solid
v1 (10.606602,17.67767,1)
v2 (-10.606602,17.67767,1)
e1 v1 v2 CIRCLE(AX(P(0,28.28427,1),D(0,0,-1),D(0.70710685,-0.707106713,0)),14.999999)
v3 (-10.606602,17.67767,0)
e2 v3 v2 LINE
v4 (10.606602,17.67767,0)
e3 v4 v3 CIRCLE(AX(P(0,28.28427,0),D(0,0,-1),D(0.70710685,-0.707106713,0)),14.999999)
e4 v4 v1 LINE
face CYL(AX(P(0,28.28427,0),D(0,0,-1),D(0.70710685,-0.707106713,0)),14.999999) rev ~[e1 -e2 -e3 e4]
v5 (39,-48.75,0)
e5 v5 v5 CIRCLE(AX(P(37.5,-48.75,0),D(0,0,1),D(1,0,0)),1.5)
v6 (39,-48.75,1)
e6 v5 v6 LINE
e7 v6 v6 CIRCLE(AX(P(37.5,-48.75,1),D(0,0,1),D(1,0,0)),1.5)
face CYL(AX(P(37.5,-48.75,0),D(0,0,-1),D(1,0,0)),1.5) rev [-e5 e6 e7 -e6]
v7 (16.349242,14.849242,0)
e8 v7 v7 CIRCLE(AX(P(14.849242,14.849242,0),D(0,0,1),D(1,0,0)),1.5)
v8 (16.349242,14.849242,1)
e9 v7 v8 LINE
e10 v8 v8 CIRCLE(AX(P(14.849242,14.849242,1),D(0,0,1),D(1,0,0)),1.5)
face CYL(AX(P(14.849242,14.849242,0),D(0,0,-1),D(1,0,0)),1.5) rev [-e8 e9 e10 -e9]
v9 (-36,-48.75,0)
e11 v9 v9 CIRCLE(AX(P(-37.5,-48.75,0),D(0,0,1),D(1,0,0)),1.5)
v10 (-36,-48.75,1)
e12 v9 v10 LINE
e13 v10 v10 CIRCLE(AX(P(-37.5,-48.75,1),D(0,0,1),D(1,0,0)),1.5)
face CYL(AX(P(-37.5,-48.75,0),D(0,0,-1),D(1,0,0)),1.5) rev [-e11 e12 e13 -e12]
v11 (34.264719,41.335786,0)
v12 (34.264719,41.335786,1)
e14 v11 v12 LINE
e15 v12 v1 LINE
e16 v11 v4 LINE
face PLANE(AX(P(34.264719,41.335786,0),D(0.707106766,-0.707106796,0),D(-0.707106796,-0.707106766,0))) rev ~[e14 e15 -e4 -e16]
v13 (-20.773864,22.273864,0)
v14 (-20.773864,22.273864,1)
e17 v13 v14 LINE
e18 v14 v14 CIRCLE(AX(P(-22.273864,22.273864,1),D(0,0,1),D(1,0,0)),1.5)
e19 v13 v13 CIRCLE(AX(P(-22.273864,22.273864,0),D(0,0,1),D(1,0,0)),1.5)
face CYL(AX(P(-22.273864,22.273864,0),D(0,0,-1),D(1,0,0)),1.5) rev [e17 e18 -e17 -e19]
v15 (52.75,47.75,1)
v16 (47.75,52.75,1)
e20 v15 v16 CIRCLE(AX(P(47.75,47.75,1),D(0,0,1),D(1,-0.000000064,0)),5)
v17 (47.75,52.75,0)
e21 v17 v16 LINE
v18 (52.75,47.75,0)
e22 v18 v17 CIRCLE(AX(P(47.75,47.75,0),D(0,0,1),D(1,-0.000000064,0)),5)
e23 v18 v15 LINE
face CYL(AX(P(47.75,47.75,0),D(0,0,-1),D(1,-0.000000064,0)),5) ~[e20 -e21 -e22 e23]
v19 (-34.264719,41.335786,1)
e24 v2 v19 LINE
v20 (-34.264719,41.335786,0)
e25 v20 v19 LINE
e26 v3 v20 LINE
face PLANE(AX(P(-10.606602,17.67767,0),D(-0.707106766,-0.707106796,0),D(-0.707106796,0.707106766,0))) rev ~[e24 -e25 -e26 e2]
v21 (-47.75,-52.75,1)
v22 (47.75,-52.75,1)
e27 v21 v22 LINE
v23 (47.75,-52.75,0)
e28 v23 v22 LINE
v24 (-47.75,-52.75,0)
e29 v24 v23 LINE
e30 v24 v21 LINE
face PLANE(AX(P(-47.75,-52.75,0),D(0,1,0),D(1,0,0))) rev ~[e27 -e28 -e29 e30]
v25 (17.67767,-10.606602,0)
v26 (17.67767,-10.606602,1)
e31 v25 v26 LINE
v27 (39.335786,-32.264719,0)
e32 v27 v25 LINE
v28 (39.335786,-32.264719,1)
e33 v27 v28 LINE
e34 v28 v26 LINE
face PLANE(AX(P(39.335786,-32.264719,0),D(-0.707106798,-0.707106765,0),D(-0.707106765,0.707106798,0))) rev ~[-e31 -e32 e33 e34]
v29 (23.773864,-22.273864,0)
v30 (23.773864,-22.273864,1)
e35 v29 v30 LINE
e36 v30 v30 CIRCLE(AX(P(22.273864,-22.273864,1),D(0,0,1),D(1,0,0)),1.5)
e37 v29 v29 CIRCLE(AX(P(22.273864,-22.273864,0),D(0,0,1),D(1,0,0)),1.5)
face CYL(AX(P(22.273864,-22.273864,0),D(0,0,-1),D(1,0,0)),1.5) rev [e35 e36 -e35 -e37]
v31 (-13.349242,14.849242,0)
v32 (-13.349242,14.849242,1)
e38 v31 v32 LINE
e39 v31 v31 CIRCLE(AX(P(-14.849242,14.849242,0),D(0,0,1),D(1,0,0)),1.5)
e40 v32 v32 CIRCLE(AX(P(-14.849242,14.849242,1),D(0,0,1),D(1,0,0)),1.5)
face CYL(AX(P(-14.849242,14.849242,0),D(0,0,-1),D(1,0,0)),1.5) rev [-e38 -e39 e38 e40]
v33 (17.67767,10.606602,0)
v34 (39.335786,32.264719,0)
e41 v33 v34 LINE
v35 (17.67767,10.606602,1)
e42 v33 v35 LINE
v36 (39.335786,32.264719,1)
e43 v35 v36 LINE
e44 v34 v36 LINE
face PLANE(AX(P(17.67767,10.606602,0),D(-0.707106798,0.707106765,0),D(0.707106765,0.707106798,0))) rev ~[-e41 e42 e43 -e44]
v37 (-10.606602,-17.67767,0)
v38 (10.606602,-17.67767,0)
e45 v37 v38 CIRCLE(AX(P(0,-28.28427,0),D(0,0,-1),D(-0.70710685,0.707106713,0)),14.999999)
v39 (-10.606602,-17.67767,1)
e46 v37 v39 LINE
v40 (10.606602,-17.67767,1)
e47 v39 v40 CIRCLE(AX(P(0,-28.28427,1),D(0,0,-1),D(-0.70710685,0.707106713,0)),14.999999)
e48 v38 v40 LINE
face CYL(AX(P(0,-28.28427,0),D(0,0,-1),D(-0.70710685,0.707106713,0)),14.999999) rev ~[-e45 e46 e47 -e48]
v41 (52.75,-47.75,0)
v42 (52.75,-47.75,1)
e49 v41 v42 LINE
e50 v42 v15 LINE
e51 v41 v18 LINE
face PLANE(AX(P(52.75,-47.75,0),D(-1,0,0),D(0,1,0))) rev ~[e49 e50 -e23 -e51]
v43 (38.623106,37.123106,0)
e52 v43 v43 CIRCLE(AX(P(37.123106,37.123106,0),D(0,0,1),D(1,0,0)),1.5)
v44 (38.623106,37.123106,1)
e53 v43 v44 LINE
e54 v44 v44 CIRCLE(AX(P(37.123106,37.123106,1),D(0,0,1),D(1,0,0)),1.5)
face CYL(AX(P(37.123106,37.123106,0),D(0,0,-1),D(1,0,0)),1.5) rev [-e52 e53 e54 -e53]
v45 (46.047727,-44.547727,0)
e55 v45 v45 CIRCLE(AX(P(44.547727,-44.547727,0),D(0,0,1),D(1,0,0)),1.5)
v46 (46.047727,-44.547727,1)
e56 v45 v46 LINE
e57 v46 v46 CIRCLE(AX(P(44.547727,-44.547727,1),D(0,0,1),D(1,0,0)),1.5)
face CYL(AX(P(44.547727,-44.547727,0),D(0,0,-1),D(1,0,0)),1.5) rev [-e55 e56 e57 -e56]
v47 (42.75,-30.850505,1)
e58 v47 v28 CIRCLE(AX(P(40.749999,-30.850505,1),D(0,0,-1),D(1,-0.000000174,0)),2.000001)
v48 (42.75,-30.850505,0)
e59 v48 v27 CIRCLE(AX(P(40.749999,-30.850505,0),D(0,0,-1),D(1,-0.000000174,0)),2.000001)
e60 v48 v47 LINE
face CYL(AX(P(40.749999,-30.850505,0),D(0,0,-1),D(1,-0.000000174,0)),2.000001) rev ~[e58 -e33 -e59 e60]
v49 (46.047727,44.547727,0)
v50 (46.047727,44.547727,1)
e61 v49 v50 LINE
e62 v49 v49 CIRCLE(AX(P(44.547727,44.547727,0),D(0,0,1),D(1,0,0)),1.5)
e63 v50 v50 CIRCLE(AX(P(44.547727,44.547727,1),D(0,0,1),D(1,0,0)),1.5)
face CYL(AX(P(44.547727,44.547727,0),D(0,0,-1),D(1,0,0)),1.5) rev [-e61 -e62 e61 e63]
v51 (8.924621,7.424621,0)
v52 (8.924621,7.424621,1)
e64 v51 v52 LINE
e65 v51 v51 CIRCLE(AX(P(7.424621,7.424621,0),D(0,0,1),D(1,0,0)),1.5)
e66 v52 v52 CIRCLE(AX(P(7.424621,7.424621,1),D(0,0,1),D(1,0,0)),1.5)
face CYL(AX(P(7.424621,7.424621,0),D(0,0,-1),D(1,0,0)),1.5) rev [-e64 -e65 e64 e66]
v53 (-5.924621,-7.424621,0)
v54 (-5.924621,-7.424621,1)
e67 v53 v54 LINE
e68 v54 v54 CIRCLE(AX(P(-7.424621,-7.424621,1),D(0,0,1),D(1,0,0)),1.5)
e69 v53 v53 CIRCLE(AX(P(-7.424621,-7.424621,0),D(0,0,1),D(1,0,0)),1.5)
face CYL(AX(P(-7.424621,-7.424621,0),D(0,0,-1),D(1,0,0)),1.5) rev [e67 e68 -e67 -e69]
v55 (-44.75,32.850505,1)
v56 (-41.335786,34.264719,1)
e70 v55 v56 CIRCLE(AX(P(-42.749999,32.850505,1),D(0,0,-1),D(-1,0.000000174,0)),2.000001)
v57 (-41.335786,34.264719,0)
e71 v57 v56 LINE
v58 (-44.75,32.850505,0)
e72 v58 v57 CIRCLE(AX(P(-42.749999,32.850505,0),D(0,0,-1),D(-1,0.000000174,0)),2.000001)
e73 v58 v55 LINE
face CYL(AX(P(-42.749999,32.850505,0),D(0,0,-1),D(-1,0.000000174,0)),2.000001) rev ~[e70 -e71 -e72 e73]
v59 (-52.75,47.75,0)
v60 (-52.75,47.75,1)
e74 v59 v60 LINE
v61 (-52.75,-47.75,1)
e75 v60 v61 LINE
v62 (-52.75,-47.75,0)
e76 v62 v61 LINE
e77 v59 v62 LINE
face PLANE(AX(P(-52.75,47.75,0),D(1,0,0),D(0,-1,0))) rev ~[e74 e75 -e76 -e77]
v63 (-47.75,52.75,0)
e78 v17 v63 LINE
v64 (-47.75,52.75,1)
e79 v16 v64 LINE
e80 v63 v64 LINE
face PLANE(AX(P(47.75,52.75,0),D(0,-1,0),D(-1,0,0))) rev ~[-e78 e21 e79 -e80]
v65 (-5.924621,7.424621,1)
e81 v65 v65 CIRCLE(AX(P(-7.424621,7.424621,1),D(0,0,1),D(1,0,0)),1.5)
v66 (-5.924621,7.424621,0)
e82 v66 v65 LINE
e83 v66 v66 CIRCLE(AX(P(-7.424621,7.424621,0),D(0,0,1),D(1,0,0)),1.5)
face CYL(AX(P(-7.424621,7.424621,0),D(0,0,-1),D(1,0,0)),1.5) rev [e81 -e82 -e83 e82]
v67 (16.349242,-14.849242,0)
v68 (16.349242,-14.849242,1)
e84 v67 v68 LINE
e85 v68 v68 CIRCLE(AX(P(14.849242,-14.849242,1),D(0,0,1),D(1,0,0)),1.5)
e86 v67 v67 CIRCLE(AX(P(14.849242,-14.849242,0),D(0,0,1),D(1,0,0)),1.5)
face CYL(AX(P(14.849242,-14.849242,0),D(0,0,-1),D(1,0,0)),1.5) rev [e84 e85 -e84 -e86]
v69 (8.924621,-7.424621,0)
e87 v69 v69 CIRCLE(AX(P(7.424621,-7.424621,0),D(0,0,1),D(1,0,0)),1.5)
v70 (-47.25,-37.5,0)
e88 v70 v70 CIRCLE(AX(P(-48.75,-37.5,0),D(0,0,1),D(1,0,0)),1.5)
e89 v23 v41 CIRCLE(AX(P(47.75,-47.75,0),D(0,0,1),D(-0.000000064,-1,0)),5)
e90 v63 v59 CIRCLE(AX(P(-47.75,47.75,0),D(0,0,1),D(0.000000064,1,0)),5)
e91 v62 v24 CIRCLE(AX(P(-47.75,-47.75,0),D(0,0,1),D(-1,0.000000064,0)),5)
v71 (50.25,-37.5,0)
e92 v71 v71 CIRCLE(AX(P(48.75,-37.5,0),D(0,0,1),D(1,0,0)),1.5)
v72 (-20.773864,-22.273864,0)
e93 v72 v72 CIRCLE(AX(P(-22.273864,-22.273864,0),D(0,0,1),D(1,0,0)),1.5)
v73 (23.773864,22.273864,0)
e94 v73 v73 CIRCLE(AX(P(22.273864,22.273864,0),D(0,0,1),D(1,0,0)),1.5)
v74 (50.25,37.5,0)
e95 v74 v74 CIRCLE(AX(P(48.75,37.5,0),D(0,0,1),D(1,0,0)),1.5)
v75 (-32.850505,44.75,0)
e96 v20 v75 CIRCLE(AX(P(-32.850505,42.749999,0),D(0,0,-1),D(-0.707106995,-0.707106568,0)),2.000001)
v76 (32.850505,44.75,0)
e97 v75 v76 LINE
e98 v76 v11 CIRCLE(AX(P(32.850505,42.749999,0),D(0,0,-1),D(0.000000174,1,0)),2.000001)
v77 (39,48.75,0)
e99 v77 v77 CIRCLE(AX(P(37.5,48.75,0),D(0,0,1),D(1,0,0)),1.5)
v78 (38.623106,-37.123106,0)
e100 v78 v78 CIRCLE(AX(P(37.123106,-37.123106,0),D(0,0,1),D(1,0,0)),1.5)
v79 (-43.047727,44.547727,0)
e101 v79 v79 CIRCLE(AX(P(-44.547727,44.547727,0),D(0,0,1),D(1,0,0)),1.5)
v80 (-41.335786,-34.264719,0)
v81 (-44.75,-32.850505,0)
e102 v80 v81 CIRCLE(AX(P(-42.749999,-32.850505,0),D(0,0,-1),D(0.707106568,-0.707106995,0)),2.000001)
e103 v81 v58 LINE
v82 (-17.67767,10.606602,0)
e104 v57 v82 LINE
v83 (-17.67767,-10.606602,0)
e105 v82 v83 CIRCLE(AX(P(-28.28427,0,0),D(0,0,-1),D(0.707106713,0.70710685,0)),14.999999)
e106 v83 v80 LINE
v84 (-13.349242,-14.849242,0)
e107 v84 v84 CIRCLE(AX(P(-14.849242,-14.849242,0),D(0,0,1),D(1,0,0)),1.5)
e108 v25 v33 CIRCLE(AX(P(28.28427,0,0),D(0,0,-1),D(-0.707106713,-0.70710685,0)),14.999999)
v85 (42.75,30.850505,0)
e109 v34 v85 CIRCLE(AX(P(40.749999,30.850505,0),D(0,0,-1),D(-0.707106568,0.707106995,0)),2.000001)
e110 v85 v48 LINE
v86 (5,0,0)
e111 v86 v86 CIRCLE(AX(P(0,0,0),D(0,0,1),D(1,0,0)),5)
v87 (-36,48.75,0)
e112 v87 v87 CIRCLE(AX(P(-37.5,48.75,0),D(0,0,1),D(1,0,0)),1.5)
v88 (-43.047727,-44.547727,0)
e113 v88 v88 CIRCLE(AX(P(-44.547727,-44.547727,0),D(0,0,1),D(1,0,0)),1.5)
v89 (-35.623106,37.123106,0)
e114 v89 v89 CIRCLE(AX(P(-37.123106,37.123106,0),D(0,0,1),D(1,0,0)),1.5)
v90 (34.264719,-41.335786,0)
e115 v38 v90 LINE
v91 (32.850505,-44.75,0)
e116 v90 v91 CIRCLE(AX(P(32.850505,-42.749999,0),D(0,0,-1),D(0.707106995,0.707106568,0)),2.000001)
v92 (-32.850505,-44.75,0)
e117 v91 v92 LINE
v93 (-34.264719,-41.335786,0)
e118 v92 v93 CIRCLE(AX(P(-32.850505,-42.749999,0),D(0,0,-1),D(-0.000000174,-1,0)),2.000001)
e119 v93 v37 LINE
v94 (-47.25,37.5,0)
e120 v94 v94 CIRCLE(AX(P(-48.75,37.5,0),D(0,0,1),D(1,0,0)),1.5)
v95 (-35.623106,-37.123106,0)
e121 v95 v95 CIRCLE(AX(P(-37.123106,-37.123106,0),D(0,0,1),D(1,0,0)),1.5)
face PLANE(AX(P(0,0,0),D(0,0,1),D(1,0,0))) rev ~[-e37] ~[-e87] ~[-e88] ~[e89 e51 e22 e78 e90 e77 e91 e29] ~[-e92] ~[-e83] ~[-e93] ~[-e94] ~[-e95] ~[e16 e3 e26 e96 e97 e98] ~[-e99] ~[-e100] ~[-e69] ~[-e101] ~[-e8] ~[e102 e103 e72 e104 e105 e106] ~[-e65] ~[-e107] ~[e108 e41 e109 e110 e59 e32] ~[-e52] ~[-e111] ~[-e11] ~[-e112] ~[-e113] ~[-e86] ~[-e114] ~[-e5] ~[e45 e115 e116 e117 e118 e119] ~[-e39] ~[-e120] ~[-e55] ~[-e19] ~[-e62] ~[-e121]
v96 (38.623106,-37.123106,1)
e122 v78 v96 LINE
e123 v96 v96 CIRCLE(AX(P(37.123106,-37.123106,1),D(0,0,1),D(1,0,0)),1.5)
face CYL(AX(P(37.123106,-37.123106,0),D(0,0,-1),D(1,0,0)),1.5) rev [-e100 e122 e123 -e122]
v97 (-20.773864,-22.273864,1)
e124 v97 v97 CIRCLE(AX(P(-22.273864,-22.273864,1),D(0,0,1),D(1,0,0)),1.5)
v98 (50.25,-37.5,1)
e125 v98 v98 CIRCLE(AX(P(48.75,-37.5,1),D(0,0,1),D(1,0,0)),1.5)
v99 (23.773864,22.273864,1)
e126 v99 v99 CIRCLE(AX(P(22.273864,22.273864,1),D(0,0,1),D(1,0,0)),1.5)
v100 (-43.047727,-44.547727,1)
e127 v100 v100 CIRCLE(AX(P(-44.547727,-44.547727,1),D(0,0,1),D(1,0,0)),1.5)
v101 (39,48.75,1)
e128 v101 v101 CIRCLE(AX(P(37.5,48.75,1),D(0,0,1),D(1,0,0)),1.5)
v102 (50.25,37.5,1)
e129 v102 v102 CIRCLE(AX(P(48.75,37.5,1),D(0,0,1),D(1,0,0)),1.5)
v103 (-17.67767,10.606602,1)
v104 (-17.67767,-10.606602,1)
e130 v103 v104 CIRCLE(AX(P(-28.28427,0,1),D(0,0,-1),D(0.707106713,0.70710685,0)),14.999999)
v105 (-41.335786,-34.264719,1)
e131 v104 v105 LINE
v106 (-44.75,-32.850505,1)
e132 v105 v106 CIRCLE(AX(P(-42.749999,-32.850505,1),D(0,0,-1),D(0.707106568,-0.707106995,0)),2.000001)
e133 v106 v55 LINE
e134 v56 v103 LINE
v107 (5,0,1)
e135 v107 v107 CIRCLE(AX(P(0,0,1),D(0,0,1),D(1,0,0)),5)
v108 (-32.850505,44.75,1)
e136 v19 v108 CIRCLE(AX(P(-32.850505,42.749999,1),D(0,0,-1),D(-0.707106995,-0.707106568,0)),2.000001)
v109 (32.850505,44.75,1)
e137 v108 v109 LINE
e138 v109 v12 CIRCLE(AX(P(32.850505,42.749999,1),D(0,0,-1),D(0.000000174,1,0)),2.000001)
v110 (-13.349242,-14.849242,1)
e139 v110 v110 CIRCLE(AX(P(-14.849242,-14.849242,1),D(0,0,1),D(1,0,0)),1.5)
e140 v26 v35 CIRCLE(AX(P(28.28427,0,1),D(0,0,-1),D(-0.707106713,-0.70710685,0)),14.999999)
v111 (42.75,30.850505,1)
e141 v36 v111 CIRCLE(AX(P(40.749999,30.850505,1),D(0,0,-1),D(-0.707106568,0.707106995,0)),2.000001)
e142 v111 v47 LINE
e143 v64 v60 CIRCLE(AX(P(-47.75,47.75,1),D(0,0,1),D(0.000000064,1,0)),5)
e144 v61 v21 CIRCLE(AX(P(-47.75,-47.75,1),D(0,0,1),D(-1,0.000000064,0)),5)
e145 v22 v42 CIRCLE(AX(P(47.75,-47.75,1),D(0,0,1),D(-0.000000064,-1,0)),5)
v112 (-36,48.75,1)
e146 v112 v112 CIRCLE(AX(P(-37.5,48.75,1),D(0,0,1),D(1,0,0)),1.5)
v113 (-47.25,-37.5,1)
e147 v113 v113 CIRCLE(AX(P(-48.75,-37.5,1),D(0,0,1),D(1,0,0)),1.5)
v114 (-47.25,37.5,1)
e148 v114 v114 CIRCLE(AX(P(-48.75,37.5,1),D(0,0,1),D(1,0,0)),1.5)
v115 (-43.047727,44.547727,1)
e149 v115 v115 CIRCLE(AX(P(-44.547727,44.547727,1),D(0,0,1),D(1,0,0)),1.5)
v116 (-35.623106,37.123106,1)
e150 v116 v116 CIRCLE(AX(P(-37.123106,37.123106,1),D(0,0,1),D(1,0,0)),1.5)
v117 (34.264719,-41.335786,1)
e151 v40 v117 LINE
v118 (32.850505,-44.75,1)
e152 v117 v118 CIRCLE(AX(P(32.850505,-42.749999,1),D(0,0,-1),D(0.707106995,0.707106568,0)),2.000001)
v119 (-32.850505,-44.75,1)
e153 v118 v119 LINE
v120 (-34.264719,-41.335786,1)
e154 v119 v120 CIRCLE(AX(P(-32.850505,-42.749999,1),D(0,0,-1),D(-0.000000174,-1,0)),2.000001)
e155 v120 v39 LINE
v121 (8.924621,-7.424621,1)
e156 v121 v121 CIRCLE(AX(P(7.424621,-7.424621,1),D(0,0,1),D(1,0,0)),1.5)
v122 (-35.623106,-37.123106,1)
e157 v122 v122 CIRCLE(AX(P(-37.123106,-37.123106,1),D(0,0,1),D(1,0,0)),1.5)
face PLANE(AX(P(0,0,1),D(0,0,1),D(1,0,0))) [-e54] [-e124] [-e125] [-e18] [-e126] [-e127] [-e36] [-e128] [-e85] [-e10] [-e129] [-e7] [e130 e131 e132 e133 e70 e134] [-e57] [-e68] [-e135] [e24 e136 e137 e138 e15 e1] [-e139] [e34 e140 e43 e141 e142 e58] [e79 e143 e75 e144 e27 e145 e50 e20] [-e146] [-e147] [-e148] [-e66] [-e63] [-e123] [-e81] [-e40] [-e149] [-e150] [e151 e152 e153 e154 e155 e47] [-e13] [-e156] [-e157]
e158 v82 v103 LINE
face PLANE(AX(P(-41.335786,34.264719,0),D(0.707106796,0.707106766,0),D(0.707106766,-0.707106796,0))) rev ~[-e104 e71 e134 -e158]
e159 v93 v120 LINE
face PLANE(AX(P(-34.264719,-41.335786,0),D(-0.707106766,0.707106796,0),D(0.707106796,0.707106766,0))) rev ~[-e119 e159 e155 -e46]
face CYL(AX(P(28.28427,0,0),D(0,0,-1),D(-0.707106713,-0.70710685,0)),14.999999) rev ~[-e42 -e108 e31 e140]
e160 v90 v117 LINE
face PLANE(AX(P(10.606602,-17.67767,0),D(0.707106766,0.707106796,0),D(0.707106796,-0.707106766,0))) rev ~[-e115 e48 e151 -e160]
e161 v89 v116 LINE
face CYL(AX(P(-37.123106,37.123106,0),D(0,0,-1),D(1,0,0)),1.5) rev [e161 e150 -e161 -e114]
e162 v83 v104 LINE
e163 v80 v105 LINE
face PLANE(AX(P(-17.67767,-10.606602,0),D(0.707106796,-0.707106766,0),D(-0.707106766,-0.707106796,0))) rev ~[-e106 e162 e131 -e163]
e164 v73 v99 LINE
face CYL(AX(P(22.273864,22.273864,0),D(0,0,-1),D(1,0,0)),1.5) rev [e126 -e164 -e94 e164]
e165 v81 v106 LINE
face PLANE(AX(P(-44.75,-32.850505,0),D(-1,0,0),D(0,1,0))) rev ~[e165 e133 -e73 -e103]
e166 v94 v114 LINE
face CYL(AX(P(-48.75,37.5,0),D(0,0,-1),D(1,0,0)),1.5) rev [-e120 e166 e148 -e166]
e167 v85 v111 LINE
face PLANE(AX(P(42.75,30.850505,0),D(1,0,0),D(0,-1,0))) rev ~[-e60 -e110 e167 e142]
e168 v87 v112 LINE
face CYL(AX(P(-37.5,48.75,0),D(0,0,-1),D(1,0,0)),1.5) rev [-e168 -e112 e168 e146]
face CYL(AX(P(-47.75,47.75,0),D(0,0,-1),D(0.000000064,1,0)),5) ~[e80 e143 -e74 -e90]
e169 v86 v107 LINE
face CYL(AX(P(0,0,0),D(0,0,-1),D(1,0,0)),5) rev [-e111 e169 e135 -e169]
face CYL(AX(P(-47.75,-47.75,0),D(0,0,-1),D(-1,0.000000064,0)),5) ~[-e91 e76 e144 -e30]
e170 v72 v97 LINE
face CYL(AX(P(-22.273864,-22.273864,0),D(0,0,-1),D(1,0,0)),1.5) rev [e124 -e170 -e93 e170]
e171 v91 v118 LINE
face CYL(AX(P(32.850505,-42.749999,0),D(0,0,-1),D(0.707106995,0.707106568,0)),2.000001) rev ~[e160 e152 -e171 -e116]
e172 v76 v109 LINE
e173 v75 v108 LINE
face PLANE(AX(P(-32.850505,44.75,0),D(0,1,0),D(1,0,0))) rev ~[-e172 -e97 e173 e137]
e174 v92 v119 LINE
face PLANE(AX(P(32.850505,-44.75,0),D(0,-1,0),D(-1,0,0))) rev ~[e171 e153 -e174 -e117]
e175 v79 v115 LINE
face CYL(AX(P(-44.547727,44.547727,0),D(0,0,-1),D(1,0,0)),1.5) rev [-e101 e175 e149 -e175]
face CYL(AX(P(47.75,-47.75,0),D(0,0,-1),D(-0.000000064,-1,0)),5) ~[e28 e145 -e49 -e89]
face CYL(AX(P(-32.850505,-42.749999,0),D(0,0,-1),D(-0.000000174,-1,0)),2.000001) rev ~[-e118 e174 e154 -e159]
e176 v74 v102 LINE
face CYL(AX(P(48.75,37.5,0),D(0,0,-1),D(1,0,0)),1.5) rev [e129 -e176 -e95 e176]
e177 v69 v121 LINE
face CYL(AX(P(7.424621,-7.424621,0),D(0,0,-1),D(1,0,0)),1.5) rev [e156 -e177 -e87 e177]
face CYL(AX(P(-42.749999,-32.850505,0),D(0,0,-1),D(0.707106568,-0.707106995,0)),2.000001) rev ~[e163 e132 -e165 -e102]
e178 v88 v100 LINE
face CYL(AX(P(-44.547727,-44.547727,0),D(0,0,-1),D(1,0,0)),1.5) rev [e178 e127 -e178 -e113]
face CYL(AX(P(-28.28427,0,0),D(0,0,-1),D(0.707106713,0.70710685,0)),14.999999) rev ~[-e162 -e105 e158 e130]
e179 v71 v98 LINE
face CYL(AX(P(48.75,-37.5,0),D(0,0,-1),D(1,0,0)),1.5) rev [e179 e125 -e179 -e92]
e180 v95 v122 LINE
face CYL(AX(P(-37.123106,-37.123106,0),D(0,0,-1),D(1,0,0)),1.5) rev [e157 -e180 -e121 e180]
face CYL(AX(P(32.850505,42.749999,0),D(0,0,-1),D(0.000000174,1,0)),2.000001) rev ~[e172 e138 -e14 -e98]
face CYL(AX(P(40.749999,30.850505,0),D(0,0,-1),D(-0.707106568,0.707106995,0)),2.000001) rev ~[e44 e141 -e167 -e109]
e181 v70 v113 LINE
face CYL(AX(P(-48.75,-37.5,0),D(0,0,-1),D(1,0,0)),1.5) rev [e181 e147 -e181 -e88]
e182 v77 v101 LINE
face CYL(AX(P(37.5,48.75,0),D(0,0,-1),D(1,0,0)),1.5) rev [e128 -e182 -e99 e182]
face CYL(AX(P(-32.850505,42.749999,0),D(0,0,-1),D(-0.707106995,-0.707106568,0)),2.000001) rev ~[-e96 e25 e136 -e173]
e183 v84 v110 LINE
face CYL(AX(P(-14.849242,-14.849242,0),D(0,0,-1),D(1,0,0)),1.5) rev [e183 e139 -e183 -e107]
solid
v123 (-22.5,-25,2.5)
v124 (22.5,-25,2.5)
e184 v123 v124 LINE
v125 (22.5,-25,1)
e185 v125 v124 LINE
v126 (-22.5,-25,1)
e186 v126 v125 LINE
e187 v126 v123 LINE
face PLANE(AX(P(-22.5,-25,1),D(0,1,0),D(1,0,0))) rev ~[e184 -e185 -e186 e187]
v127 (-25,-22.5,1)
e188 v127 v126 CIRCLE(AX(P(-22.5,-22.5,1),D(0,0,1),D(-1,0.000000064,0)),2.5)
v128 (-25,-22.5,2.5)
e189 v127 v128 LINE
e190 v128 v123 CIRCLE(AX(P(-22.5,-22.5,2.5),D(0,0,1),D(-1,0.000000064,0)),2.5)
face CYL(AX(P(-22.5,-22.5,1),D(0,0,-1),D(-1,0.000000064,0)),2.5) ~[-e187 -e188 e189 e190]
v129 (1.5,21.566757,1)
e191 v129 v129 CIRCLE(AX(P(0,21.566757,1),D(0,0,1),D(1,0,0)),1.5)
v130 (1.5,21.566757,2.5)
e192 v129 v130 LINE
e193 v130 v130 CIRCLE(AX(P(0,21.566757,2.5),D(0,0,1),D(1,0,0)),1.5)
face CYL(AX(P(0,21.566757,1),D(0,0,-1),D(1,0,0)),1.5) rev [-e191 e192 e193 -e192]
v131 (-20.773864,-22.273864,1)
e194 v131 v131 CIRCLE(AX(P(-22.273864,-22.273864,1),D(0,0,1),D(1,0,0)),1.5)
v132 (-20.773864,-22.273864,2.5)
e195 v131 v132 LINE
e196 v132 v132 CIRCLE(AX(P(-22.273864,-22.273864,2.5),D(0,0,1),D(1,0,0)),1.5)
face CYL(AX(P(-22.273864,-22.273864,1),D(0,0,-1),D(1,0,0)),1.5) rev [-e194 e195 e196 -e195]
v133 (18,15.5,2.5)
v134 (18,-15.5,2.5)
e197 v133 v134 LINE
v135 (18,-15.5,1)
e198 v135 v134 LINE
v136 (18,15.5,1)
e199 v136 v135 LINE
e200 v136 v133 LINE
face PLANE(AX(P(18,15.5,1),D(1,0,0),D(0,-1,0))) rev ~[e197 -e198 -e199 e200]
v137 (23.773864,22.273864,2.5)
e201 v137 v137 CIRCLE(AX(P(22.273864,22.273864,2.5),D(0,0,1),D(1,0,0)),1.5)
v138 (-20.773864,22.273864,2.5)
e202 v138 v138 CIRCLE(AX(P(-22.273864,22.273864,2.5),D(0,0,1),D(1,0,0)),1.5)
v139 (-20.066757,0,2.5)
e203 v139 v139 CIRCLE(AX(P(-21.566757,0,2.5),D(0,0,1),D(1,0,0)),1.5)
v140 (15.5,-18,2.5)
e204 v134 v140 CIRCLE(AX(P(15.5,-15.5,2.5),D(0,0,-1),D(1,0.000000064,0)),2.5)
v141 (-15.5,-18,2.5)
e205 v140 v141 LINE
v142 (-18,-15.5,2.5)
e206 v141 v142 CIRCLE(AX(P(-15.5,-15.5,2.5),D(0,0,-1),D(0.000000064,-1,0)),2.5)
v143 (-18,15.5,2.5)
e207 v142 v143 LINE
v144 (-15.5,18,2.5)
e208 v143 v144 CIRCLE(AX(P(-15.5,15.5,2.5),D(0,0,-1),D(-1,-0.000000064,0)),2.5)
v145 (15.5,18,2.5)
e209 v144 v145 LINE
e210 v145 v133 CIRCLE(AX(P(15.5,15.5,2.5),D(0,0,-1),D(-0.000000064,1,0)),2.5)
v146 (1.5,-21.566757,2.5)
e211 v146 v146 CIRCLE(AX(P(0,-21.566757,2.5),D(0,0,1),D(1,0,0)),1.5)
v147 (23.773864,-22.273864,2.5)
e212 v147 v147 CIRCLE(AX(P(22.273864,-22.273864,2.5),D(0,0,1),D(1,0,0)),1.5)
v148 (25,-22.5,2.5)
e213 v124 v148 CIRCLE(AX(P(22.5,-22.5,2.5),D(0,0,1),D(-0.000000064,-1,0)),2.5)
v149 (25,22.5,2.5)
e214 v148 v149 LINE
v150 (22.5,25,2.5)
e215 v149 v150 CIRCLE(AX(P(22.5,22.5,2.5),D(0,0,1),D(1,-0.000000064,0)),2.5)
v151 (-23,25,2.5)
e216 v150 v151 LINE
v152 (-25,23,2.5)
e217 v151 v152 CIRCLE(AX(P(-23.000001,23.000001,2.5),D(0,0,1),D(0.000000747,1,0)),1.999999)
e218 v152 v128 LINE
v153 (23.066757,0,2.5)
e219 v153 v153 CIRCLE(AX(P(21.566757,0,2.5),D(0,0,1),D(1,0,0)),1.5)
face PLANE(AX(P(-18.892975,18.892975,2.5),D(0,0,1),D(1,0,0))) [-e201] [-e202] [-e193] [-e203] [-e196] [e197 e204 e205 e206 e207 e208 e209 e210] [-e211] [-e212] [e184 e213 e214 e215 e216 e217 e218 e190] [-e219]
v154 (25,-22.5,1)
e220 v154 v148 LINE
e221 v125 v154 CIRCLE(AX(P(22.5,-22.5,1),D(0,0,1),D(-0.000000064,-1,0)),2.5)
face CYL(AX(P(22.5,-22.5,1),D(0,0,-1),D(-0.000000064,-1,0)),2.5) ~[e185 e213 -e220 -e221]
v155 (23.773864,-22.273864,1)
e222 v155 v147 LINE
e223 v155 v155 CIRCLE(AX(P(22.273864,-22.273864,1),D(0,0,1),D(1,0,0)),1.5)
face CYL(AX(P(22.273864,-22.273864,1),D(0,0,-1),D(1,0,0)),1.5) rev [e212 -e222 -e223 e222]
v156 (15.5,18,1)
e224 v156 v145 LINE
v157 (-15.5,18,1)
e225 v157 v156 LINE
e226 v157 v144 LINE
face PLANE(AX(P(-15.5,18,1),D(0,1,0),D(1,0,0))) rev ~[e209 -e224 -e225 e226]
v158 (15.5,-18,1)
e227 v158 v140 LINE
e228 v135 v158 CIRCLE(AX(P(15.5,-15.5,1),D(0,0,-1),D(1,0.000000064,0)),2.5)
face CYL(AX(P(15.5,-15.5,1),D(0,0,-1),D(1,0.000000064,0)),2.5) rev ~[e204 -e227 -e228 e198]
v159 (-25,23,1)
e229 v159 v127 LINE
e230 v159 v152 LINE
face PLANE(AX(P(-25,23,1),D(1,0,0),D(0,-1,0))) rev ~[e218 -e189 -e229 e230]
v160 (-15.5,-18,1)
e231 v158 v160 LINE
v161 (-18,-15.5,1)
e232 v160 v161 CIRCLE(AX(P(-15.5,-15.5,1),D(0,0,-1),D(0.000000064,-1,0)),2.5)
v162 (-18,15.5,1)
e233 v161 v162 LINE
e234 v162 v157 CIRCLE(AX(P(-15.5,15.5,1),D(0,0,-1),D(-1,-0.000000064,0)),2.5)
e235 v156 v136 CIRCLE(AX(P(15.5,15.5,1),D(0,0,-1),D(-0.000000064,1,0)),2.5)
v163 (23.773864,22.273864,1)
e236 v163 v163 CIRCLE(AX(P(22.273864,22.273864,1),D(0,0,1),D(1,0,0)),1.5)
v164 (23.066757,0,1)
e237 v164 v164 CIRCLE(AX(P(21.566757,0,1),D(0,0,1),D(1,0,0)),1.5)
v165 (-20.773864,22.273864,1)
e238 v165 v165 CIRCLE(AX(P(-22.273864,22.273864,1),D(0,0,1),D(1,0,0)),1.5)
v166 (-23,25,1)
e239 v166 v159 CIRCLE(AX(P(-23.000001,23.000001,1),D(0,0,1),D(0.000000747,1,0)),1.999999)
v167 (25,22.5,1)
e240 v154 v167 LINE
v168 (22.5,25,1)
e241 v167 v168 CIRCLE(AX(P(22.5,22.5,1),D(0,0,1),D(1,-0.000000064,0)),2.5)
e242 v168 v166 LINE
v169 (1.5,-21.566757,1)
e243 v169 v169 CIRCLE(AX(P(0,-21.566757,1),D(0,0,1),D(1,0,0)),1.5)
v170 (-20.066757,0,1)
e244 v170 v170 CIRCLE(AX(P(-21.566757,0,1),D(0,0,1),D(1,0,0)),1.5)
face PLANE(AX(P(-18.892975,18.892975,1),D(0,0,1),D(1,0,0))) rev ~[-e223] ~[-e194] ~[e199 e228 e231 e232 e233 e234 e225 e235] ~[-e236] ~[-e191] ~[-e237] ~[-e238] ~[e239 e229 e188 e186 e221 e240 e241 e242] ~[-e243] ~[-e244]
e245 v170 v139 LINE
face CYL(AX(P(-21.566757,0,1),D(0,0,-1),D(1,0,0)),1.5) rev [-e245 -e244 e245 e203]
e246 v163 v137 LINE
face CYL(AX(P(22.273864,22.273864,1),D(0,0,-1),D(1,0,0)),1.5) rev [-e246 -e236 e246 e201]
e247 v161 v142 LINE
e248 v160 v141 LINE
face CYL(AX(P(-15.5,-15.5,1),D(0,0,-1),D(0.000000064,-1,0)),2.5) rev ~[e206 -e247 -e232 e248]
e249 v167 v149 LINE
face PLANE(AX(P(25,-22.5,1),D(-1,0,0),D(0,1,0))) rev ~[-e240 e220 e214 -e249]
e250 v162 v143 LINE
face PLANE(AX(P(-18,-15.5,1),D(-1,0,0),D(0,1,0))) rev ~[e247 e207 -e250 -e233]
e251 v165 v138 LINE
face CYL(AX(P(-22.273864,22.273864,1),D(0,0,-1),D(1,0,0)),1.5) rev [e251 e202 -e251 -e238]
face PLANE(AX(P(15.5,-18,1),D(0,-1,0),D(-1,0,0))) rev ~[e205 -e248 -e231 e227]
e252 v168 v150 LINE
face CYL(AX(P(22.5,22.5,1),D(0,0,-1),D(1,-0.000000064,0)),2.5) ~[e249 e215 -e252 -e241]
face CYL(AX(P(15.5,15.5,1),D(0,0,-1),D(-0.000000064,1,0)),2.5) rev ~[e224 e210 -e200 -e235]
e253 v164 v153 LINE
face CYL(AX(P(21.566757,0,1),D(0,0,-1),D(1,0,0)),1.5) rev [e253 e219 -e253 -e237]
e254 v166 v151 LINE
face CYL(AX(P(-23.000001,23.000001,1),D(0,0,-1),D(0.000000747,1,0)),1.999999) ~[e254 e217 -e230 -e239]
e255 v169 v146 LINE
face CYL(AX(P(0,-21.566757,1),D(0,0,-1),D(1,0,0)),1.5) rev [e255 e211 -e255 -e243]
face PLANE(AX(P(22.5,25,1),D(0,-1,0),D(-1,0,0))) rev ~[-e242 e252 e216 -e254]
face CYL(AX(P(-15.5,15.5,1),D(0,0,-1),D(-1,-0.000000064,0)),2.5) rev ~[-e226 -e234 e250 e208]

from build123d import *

# Parameters (mm, degrees)
F0_R     = 1.5
F0_R_2   = 5
F1_DEPTH = 1
F2_R     = 1.5
F3_DEPTH = 1.5


with BuildPart() as f1:
    # F0 (on Top) → F1 (new body)
    with BuildSketch(Plane.XY):
        with BuildLine():
            Line((47.75, 52.75), (-47.75, 52.75))
            ThreePointArc((-47.75, 52.75), (-51.285534, 51.285534), (-52.75, 47.75))
            Line((-52.75, 47.75), (-52.75, -47.75))
            ThreePointArc((-52.75, -47.75), (-51.285534, -51.285534), (-47.75, -52.75))
            Line((-47.75, -52.75), (47.75, -52.75))
            ThreePointArc((47.75, -52.75), (51.285534, -51.285534), (52.75, -47.75))
            Line((52.75, -47.75), (52.75, 47.75))
            ThreePointArc((52.75, 47.75), (51.285534, 51.285534), (47.75, 52.75))
        make_face()
        with Locations((-44.547727, -44.547727)):
            Circle(F0_R, mode=Mode.SUBTRACT)
        with Locations((-37.5, -48.75)):
            Circle(F0_R, mode=Mode.SUBTRACT)
        with Locations((-48.75, -37.5)):
            Circle(F0_R, mode=Mode.SUBTRACT)
        with Locations((-37.123106, -37.123106)):
            Circle(F0_R, mode=Mode.SUBTRACT)
        with Locations((-22.273864, -22.273864)):
            Circle(F0_R, mode=Mode.SUBTRACT)
        with Locations((-14.849242, -14.849242)):
            Circle(F0_R, mode=Mode.SUBTRACT)
        with Locations((-7.424621, -7.424621)):
            Circle(F0_R, mode=Mode.SUBTRACT)
        with BuildLine():
            Line((32.850505, -44.75), (-32.850505, -44.75))
            ThreePointArc((-32.850505, -44.75), (-34.698264, -43.515367), (-34.264719, -41.335786))
            Line((-34.264719, -41.335786), (-10.606602, -17.67767))
            ThreePointArc((-10.606602, -17.67767), (0, -13.284271), (10.606602, -17.67767))
            Line((10.606602, -17.67767), (34.264719, -41.335786))
            ThreePointArc((34.264719, -41.335786), (34.698264, -43.515367), (32.850505, -44.75))
        make_face(mode=Mode.SUBTRACT)
        with Locations((37.5, -48.75)):
            Circle(F0_R, mode=Mode.SUBTRACT)
        with Locations((44.547727, -44.547727)):
            Circle(F0_R, mode=Mode.SUBTRACT)
        with Locations((37.123106, -37.123106)):
            Circle(F0_R, mode=Mode.SUBTRACT)
        with Locations((48.75, -37.5)):
            Circle(F0_R, mode=Mode.SUBTRACT)
        with Locations((22.273864, -22.273864)):
            Circle(F0_R, mode=Mode.SUBTRACT)
        with Locations((14.849242, -14.849242)):
            Circle(F0_R, mode=Mode.SUBTRACT)
        with Locations((7.424621, -7.424621)):
            Circle(F0_R, mode=Mode.SUBTRACT)
        with BuildLine():
            Line((-44.75, -32.850505), (-44.75, 32.850505))
            ThreePointArc((-44.75, 32.850505), (-43.515367, 34.698264), (-41.335786, 34.264719))
            Line((-41.335786, 34.264719), (-17.67767, 10.606602))
            ThreePointArc((-17.67767, 10.606602), (-13.284271, 0), (-17.67767, -10.606602))
            Line((-17.67767, -10.606602), (-41.335786, -34.264719))
            ThreePointArc((-41.335786, -34.264719), (-43.515367, -34.698264), (-44.75, -32.850505))
        make_face(mode=Mode.SUBTRACT)
        with Locations((-7.424621, 7.424621)):
            Circle(F0_R, mode=Mode.SUBTRACT)
        with Locations((-14.849242, 14.849242)):
            Circle(F0_R, mode=Mode.SUBTRACT)
        with Locations((-22.273864, 22.273864)):
            Circle(F0_R, mode=Mode.SUBTRACT)
        with Locations((-48.75, 37.5)):
            Circle(F0_R, mode=Mode.SUBTRACT)
        with Locations((-37.123106, 37.123106)):
            Circle(F0_R, mode=Mode.SUBTRACT)
        with Locations((-44.547727, 44.547727)):
            Circle(F0_R, mode=Mode.SUBTRACT)
        with Locations((-37.5, 48.75)):
            Circle(F0_R, mode=Mode.SUBTRACT)
        with BuildLine():
            ThreePointArc((-34.264719, 41.335786), (-34.698264, 43.515367), (-32.850505, 44.75))
            Line((-32.850505, 44.75), (32.850505, 44.75))
            ThreePointArc((32.850505, 44.75), (34.698264, 43.515367), (34.264719, 41.335786))
            Line((34.264719, 41.335786), (10.606602, 17.67767))
            ThreePointArc((10.606602, 17.67767), (0, 13.284271), (-10.606602, 17.67767))
            Line((-10.606602, 17.67767), (-34.264719, 41.335786))
        make_face(mode=Mode.SUBTRACT)
        Circle(F0_R_2, mode=Mode.SUBTRACT)
        with Locations((7.424621, 7.424621)):
            Circle(F0_R, mode=Mode.SUBTRACT)
        with Locations((14.849242, 14.849242)):
            Circle(F0_R, mode=Mode.SUBTRACT)
        with Locations((22.273864, 22.273864)):
            Circle(F0_R, mode=Mode.SUBTRACT)
        with BuildLine():
            ThreePointArc((39.335786, 32.264719), (41.515367, 32.698264), (42.75, 30.850505))
            Line((42.75, 30.850505), (42.75, -30.850505))
            ThreePointArc((42.75, -30.850505), (41.515367, -32.698264), (39.335786, -32.264719))
            Line((39.335786, -32.264719), (17.67767, -10.606602))
            ThreePointArc((17.67767, -10.606602), (13.284271, 0), (17.67767, 10.606602))
            Line((17.67767, 10.606602), (39.335786, 32.264719))
        make_face(mode=Mode.SUBTRACT)
        with Locations((37.123106, 37.123106)):
            Circle(F0_R, mode=Mode.SUBTRACT)
        with Locations((48.75, 37.5)):
            Circle(F0_R, mode=Mode.SUBTRACT)
        with Locations((37.5, 48.75)):
            Circle(F0_R, mode=Mode.SUBTRACT)
        with Locations((44.547727, 44.547727)):
            Circle(F0_R, mode=Mode.SUBTRACT)
    extrude(amount=F1_DEPTH)


with BuildPart() as f3:
    # F2 (on face) → F3 (new body)
    with BuildSketch(Plane.XY.offset(1)):
        with BuildLine():
            Line((-17.928932, 25), (-23, 25))
            ThreePointArc((-23, 25), (-24.414214, 24.414214), (-25, 23))
            Line((-25, 23), (-25, 17.928932))
            Line((-25, 17.928932), (-18, 10.928932))
            Line((-18, 10.928932), (-18, 15.5))
            ThreePointArc((-18, 15.5), (-17.267767, 17.267767), (-15.5, 18))
            Line((-15.5, 18), (-10.928932, 18))
            Line((-10.928932, 18), (-17.928932, 25))
        make_face()
        with Locations((-22.273864, 22.273864)):
            Circle(F2_R, mode=Mode.SUBTRACT)
        Polygon((17.928932, 25), (-17.928932, 25), (-10.928932, 18), (10.928932, 18), align=None)
        with Locations((0, 21.566757)):
            Circle(F2_R, mode=Mode.SUBTRACT)
        with BuildLine():
            Line((22.5, 25), (17.928932, 25))
            Line((17.928932, 25), (10.928932, 18))
            Line((10.928932, 18), (15.5, 18))
            ThreePointArc((15.5, 18), (17.267767, 17.267767), (18, 15.5))
            Line((18, 15.5), (18, 10.928932))
            Line((18, 10.928932), (25, 17.928932))
            Line((25, 17.928932), (25, 22.5))
            ThreePointArc((25, 22.5), (24.267767, 24.267767), (22.5, 25))
        make_face()
        with Locations((22.273864, 22.273864)):
            Circle(F2_R, mode=Mode.SUBTRACT)
        Polygon((25, -17.928932), (25, 17.928932), (18, 10.928932), (18, -10.928932), align=None)
        with Locations((21.566757, 0)):
            Circle(F2_R, mode=Mode.SUBTRACT)
        with BuildLine():
            Line((25, -22.5), (25, -17.928932))
            Line((25, -17.928932), (18, -10.928932))
            Line((18, -10.928932), (18, -15.5))
            ThreePointArc((18, -15.5), (17.267767, -17.267767), (15.5, -18))
            Line((15.5, -18), (10.928932, -18))
            Line((10.928932, -18), (17.928932, -25))
            Line((17.928932, -25), (22.5, -25))
            ThreePointArc((22.5, -25), (24.267767, -24.267767), (25, -22.5))
        make_face()
        with Locations((22.273864, -22.273864)):
            Circle(F2_R, mode=Mode.SUBTRACT)
        Polygon((-18, 10.928932), (-25, 17.928932), (-25, -17.928932), (-18, -10.928932), align=None)
        with Locations((-21.566757, 0)):
            Circle(F2_R, mode=Mode.SUBTRACT)
        with BuildLine():
            Line((-18, -10.928932), (-25, -17.928932))
            Line((-25, -17.928932), (-25, -22.5))
            ThreePointArc((-25, -22.5), (-24.267767, -24.267767), (-22.5, -25))
            Line((-22.5, -25), (-17.928932, -25))
            Line((-17.928932, -25), (-10.928932, -18))
            Line((-10.928932, -18), (-15.5, -18))
            ThreePointArc((-15.5, -18), (-17.267767, -17.267767), (-18, -15.5))
            Line((-18, -15.5), (-18, -10.928932))
        make_face()
        with Locations((-22.273864, -22.273864)):
            Circle(F2_R, mode=Mode.SUBTRACT)
        Polygon((-10.928932, -18), (-17.928932, -25), (17.928932, -25), (10.928932, -18), align=None)
        with Locations((0, -21.566757)):
            Circle(F2_R, mode=Mode.SUBTRACT)
    extrude(amount=F3_DEPTH)


solid = Compound([f1.part, f3.part])
